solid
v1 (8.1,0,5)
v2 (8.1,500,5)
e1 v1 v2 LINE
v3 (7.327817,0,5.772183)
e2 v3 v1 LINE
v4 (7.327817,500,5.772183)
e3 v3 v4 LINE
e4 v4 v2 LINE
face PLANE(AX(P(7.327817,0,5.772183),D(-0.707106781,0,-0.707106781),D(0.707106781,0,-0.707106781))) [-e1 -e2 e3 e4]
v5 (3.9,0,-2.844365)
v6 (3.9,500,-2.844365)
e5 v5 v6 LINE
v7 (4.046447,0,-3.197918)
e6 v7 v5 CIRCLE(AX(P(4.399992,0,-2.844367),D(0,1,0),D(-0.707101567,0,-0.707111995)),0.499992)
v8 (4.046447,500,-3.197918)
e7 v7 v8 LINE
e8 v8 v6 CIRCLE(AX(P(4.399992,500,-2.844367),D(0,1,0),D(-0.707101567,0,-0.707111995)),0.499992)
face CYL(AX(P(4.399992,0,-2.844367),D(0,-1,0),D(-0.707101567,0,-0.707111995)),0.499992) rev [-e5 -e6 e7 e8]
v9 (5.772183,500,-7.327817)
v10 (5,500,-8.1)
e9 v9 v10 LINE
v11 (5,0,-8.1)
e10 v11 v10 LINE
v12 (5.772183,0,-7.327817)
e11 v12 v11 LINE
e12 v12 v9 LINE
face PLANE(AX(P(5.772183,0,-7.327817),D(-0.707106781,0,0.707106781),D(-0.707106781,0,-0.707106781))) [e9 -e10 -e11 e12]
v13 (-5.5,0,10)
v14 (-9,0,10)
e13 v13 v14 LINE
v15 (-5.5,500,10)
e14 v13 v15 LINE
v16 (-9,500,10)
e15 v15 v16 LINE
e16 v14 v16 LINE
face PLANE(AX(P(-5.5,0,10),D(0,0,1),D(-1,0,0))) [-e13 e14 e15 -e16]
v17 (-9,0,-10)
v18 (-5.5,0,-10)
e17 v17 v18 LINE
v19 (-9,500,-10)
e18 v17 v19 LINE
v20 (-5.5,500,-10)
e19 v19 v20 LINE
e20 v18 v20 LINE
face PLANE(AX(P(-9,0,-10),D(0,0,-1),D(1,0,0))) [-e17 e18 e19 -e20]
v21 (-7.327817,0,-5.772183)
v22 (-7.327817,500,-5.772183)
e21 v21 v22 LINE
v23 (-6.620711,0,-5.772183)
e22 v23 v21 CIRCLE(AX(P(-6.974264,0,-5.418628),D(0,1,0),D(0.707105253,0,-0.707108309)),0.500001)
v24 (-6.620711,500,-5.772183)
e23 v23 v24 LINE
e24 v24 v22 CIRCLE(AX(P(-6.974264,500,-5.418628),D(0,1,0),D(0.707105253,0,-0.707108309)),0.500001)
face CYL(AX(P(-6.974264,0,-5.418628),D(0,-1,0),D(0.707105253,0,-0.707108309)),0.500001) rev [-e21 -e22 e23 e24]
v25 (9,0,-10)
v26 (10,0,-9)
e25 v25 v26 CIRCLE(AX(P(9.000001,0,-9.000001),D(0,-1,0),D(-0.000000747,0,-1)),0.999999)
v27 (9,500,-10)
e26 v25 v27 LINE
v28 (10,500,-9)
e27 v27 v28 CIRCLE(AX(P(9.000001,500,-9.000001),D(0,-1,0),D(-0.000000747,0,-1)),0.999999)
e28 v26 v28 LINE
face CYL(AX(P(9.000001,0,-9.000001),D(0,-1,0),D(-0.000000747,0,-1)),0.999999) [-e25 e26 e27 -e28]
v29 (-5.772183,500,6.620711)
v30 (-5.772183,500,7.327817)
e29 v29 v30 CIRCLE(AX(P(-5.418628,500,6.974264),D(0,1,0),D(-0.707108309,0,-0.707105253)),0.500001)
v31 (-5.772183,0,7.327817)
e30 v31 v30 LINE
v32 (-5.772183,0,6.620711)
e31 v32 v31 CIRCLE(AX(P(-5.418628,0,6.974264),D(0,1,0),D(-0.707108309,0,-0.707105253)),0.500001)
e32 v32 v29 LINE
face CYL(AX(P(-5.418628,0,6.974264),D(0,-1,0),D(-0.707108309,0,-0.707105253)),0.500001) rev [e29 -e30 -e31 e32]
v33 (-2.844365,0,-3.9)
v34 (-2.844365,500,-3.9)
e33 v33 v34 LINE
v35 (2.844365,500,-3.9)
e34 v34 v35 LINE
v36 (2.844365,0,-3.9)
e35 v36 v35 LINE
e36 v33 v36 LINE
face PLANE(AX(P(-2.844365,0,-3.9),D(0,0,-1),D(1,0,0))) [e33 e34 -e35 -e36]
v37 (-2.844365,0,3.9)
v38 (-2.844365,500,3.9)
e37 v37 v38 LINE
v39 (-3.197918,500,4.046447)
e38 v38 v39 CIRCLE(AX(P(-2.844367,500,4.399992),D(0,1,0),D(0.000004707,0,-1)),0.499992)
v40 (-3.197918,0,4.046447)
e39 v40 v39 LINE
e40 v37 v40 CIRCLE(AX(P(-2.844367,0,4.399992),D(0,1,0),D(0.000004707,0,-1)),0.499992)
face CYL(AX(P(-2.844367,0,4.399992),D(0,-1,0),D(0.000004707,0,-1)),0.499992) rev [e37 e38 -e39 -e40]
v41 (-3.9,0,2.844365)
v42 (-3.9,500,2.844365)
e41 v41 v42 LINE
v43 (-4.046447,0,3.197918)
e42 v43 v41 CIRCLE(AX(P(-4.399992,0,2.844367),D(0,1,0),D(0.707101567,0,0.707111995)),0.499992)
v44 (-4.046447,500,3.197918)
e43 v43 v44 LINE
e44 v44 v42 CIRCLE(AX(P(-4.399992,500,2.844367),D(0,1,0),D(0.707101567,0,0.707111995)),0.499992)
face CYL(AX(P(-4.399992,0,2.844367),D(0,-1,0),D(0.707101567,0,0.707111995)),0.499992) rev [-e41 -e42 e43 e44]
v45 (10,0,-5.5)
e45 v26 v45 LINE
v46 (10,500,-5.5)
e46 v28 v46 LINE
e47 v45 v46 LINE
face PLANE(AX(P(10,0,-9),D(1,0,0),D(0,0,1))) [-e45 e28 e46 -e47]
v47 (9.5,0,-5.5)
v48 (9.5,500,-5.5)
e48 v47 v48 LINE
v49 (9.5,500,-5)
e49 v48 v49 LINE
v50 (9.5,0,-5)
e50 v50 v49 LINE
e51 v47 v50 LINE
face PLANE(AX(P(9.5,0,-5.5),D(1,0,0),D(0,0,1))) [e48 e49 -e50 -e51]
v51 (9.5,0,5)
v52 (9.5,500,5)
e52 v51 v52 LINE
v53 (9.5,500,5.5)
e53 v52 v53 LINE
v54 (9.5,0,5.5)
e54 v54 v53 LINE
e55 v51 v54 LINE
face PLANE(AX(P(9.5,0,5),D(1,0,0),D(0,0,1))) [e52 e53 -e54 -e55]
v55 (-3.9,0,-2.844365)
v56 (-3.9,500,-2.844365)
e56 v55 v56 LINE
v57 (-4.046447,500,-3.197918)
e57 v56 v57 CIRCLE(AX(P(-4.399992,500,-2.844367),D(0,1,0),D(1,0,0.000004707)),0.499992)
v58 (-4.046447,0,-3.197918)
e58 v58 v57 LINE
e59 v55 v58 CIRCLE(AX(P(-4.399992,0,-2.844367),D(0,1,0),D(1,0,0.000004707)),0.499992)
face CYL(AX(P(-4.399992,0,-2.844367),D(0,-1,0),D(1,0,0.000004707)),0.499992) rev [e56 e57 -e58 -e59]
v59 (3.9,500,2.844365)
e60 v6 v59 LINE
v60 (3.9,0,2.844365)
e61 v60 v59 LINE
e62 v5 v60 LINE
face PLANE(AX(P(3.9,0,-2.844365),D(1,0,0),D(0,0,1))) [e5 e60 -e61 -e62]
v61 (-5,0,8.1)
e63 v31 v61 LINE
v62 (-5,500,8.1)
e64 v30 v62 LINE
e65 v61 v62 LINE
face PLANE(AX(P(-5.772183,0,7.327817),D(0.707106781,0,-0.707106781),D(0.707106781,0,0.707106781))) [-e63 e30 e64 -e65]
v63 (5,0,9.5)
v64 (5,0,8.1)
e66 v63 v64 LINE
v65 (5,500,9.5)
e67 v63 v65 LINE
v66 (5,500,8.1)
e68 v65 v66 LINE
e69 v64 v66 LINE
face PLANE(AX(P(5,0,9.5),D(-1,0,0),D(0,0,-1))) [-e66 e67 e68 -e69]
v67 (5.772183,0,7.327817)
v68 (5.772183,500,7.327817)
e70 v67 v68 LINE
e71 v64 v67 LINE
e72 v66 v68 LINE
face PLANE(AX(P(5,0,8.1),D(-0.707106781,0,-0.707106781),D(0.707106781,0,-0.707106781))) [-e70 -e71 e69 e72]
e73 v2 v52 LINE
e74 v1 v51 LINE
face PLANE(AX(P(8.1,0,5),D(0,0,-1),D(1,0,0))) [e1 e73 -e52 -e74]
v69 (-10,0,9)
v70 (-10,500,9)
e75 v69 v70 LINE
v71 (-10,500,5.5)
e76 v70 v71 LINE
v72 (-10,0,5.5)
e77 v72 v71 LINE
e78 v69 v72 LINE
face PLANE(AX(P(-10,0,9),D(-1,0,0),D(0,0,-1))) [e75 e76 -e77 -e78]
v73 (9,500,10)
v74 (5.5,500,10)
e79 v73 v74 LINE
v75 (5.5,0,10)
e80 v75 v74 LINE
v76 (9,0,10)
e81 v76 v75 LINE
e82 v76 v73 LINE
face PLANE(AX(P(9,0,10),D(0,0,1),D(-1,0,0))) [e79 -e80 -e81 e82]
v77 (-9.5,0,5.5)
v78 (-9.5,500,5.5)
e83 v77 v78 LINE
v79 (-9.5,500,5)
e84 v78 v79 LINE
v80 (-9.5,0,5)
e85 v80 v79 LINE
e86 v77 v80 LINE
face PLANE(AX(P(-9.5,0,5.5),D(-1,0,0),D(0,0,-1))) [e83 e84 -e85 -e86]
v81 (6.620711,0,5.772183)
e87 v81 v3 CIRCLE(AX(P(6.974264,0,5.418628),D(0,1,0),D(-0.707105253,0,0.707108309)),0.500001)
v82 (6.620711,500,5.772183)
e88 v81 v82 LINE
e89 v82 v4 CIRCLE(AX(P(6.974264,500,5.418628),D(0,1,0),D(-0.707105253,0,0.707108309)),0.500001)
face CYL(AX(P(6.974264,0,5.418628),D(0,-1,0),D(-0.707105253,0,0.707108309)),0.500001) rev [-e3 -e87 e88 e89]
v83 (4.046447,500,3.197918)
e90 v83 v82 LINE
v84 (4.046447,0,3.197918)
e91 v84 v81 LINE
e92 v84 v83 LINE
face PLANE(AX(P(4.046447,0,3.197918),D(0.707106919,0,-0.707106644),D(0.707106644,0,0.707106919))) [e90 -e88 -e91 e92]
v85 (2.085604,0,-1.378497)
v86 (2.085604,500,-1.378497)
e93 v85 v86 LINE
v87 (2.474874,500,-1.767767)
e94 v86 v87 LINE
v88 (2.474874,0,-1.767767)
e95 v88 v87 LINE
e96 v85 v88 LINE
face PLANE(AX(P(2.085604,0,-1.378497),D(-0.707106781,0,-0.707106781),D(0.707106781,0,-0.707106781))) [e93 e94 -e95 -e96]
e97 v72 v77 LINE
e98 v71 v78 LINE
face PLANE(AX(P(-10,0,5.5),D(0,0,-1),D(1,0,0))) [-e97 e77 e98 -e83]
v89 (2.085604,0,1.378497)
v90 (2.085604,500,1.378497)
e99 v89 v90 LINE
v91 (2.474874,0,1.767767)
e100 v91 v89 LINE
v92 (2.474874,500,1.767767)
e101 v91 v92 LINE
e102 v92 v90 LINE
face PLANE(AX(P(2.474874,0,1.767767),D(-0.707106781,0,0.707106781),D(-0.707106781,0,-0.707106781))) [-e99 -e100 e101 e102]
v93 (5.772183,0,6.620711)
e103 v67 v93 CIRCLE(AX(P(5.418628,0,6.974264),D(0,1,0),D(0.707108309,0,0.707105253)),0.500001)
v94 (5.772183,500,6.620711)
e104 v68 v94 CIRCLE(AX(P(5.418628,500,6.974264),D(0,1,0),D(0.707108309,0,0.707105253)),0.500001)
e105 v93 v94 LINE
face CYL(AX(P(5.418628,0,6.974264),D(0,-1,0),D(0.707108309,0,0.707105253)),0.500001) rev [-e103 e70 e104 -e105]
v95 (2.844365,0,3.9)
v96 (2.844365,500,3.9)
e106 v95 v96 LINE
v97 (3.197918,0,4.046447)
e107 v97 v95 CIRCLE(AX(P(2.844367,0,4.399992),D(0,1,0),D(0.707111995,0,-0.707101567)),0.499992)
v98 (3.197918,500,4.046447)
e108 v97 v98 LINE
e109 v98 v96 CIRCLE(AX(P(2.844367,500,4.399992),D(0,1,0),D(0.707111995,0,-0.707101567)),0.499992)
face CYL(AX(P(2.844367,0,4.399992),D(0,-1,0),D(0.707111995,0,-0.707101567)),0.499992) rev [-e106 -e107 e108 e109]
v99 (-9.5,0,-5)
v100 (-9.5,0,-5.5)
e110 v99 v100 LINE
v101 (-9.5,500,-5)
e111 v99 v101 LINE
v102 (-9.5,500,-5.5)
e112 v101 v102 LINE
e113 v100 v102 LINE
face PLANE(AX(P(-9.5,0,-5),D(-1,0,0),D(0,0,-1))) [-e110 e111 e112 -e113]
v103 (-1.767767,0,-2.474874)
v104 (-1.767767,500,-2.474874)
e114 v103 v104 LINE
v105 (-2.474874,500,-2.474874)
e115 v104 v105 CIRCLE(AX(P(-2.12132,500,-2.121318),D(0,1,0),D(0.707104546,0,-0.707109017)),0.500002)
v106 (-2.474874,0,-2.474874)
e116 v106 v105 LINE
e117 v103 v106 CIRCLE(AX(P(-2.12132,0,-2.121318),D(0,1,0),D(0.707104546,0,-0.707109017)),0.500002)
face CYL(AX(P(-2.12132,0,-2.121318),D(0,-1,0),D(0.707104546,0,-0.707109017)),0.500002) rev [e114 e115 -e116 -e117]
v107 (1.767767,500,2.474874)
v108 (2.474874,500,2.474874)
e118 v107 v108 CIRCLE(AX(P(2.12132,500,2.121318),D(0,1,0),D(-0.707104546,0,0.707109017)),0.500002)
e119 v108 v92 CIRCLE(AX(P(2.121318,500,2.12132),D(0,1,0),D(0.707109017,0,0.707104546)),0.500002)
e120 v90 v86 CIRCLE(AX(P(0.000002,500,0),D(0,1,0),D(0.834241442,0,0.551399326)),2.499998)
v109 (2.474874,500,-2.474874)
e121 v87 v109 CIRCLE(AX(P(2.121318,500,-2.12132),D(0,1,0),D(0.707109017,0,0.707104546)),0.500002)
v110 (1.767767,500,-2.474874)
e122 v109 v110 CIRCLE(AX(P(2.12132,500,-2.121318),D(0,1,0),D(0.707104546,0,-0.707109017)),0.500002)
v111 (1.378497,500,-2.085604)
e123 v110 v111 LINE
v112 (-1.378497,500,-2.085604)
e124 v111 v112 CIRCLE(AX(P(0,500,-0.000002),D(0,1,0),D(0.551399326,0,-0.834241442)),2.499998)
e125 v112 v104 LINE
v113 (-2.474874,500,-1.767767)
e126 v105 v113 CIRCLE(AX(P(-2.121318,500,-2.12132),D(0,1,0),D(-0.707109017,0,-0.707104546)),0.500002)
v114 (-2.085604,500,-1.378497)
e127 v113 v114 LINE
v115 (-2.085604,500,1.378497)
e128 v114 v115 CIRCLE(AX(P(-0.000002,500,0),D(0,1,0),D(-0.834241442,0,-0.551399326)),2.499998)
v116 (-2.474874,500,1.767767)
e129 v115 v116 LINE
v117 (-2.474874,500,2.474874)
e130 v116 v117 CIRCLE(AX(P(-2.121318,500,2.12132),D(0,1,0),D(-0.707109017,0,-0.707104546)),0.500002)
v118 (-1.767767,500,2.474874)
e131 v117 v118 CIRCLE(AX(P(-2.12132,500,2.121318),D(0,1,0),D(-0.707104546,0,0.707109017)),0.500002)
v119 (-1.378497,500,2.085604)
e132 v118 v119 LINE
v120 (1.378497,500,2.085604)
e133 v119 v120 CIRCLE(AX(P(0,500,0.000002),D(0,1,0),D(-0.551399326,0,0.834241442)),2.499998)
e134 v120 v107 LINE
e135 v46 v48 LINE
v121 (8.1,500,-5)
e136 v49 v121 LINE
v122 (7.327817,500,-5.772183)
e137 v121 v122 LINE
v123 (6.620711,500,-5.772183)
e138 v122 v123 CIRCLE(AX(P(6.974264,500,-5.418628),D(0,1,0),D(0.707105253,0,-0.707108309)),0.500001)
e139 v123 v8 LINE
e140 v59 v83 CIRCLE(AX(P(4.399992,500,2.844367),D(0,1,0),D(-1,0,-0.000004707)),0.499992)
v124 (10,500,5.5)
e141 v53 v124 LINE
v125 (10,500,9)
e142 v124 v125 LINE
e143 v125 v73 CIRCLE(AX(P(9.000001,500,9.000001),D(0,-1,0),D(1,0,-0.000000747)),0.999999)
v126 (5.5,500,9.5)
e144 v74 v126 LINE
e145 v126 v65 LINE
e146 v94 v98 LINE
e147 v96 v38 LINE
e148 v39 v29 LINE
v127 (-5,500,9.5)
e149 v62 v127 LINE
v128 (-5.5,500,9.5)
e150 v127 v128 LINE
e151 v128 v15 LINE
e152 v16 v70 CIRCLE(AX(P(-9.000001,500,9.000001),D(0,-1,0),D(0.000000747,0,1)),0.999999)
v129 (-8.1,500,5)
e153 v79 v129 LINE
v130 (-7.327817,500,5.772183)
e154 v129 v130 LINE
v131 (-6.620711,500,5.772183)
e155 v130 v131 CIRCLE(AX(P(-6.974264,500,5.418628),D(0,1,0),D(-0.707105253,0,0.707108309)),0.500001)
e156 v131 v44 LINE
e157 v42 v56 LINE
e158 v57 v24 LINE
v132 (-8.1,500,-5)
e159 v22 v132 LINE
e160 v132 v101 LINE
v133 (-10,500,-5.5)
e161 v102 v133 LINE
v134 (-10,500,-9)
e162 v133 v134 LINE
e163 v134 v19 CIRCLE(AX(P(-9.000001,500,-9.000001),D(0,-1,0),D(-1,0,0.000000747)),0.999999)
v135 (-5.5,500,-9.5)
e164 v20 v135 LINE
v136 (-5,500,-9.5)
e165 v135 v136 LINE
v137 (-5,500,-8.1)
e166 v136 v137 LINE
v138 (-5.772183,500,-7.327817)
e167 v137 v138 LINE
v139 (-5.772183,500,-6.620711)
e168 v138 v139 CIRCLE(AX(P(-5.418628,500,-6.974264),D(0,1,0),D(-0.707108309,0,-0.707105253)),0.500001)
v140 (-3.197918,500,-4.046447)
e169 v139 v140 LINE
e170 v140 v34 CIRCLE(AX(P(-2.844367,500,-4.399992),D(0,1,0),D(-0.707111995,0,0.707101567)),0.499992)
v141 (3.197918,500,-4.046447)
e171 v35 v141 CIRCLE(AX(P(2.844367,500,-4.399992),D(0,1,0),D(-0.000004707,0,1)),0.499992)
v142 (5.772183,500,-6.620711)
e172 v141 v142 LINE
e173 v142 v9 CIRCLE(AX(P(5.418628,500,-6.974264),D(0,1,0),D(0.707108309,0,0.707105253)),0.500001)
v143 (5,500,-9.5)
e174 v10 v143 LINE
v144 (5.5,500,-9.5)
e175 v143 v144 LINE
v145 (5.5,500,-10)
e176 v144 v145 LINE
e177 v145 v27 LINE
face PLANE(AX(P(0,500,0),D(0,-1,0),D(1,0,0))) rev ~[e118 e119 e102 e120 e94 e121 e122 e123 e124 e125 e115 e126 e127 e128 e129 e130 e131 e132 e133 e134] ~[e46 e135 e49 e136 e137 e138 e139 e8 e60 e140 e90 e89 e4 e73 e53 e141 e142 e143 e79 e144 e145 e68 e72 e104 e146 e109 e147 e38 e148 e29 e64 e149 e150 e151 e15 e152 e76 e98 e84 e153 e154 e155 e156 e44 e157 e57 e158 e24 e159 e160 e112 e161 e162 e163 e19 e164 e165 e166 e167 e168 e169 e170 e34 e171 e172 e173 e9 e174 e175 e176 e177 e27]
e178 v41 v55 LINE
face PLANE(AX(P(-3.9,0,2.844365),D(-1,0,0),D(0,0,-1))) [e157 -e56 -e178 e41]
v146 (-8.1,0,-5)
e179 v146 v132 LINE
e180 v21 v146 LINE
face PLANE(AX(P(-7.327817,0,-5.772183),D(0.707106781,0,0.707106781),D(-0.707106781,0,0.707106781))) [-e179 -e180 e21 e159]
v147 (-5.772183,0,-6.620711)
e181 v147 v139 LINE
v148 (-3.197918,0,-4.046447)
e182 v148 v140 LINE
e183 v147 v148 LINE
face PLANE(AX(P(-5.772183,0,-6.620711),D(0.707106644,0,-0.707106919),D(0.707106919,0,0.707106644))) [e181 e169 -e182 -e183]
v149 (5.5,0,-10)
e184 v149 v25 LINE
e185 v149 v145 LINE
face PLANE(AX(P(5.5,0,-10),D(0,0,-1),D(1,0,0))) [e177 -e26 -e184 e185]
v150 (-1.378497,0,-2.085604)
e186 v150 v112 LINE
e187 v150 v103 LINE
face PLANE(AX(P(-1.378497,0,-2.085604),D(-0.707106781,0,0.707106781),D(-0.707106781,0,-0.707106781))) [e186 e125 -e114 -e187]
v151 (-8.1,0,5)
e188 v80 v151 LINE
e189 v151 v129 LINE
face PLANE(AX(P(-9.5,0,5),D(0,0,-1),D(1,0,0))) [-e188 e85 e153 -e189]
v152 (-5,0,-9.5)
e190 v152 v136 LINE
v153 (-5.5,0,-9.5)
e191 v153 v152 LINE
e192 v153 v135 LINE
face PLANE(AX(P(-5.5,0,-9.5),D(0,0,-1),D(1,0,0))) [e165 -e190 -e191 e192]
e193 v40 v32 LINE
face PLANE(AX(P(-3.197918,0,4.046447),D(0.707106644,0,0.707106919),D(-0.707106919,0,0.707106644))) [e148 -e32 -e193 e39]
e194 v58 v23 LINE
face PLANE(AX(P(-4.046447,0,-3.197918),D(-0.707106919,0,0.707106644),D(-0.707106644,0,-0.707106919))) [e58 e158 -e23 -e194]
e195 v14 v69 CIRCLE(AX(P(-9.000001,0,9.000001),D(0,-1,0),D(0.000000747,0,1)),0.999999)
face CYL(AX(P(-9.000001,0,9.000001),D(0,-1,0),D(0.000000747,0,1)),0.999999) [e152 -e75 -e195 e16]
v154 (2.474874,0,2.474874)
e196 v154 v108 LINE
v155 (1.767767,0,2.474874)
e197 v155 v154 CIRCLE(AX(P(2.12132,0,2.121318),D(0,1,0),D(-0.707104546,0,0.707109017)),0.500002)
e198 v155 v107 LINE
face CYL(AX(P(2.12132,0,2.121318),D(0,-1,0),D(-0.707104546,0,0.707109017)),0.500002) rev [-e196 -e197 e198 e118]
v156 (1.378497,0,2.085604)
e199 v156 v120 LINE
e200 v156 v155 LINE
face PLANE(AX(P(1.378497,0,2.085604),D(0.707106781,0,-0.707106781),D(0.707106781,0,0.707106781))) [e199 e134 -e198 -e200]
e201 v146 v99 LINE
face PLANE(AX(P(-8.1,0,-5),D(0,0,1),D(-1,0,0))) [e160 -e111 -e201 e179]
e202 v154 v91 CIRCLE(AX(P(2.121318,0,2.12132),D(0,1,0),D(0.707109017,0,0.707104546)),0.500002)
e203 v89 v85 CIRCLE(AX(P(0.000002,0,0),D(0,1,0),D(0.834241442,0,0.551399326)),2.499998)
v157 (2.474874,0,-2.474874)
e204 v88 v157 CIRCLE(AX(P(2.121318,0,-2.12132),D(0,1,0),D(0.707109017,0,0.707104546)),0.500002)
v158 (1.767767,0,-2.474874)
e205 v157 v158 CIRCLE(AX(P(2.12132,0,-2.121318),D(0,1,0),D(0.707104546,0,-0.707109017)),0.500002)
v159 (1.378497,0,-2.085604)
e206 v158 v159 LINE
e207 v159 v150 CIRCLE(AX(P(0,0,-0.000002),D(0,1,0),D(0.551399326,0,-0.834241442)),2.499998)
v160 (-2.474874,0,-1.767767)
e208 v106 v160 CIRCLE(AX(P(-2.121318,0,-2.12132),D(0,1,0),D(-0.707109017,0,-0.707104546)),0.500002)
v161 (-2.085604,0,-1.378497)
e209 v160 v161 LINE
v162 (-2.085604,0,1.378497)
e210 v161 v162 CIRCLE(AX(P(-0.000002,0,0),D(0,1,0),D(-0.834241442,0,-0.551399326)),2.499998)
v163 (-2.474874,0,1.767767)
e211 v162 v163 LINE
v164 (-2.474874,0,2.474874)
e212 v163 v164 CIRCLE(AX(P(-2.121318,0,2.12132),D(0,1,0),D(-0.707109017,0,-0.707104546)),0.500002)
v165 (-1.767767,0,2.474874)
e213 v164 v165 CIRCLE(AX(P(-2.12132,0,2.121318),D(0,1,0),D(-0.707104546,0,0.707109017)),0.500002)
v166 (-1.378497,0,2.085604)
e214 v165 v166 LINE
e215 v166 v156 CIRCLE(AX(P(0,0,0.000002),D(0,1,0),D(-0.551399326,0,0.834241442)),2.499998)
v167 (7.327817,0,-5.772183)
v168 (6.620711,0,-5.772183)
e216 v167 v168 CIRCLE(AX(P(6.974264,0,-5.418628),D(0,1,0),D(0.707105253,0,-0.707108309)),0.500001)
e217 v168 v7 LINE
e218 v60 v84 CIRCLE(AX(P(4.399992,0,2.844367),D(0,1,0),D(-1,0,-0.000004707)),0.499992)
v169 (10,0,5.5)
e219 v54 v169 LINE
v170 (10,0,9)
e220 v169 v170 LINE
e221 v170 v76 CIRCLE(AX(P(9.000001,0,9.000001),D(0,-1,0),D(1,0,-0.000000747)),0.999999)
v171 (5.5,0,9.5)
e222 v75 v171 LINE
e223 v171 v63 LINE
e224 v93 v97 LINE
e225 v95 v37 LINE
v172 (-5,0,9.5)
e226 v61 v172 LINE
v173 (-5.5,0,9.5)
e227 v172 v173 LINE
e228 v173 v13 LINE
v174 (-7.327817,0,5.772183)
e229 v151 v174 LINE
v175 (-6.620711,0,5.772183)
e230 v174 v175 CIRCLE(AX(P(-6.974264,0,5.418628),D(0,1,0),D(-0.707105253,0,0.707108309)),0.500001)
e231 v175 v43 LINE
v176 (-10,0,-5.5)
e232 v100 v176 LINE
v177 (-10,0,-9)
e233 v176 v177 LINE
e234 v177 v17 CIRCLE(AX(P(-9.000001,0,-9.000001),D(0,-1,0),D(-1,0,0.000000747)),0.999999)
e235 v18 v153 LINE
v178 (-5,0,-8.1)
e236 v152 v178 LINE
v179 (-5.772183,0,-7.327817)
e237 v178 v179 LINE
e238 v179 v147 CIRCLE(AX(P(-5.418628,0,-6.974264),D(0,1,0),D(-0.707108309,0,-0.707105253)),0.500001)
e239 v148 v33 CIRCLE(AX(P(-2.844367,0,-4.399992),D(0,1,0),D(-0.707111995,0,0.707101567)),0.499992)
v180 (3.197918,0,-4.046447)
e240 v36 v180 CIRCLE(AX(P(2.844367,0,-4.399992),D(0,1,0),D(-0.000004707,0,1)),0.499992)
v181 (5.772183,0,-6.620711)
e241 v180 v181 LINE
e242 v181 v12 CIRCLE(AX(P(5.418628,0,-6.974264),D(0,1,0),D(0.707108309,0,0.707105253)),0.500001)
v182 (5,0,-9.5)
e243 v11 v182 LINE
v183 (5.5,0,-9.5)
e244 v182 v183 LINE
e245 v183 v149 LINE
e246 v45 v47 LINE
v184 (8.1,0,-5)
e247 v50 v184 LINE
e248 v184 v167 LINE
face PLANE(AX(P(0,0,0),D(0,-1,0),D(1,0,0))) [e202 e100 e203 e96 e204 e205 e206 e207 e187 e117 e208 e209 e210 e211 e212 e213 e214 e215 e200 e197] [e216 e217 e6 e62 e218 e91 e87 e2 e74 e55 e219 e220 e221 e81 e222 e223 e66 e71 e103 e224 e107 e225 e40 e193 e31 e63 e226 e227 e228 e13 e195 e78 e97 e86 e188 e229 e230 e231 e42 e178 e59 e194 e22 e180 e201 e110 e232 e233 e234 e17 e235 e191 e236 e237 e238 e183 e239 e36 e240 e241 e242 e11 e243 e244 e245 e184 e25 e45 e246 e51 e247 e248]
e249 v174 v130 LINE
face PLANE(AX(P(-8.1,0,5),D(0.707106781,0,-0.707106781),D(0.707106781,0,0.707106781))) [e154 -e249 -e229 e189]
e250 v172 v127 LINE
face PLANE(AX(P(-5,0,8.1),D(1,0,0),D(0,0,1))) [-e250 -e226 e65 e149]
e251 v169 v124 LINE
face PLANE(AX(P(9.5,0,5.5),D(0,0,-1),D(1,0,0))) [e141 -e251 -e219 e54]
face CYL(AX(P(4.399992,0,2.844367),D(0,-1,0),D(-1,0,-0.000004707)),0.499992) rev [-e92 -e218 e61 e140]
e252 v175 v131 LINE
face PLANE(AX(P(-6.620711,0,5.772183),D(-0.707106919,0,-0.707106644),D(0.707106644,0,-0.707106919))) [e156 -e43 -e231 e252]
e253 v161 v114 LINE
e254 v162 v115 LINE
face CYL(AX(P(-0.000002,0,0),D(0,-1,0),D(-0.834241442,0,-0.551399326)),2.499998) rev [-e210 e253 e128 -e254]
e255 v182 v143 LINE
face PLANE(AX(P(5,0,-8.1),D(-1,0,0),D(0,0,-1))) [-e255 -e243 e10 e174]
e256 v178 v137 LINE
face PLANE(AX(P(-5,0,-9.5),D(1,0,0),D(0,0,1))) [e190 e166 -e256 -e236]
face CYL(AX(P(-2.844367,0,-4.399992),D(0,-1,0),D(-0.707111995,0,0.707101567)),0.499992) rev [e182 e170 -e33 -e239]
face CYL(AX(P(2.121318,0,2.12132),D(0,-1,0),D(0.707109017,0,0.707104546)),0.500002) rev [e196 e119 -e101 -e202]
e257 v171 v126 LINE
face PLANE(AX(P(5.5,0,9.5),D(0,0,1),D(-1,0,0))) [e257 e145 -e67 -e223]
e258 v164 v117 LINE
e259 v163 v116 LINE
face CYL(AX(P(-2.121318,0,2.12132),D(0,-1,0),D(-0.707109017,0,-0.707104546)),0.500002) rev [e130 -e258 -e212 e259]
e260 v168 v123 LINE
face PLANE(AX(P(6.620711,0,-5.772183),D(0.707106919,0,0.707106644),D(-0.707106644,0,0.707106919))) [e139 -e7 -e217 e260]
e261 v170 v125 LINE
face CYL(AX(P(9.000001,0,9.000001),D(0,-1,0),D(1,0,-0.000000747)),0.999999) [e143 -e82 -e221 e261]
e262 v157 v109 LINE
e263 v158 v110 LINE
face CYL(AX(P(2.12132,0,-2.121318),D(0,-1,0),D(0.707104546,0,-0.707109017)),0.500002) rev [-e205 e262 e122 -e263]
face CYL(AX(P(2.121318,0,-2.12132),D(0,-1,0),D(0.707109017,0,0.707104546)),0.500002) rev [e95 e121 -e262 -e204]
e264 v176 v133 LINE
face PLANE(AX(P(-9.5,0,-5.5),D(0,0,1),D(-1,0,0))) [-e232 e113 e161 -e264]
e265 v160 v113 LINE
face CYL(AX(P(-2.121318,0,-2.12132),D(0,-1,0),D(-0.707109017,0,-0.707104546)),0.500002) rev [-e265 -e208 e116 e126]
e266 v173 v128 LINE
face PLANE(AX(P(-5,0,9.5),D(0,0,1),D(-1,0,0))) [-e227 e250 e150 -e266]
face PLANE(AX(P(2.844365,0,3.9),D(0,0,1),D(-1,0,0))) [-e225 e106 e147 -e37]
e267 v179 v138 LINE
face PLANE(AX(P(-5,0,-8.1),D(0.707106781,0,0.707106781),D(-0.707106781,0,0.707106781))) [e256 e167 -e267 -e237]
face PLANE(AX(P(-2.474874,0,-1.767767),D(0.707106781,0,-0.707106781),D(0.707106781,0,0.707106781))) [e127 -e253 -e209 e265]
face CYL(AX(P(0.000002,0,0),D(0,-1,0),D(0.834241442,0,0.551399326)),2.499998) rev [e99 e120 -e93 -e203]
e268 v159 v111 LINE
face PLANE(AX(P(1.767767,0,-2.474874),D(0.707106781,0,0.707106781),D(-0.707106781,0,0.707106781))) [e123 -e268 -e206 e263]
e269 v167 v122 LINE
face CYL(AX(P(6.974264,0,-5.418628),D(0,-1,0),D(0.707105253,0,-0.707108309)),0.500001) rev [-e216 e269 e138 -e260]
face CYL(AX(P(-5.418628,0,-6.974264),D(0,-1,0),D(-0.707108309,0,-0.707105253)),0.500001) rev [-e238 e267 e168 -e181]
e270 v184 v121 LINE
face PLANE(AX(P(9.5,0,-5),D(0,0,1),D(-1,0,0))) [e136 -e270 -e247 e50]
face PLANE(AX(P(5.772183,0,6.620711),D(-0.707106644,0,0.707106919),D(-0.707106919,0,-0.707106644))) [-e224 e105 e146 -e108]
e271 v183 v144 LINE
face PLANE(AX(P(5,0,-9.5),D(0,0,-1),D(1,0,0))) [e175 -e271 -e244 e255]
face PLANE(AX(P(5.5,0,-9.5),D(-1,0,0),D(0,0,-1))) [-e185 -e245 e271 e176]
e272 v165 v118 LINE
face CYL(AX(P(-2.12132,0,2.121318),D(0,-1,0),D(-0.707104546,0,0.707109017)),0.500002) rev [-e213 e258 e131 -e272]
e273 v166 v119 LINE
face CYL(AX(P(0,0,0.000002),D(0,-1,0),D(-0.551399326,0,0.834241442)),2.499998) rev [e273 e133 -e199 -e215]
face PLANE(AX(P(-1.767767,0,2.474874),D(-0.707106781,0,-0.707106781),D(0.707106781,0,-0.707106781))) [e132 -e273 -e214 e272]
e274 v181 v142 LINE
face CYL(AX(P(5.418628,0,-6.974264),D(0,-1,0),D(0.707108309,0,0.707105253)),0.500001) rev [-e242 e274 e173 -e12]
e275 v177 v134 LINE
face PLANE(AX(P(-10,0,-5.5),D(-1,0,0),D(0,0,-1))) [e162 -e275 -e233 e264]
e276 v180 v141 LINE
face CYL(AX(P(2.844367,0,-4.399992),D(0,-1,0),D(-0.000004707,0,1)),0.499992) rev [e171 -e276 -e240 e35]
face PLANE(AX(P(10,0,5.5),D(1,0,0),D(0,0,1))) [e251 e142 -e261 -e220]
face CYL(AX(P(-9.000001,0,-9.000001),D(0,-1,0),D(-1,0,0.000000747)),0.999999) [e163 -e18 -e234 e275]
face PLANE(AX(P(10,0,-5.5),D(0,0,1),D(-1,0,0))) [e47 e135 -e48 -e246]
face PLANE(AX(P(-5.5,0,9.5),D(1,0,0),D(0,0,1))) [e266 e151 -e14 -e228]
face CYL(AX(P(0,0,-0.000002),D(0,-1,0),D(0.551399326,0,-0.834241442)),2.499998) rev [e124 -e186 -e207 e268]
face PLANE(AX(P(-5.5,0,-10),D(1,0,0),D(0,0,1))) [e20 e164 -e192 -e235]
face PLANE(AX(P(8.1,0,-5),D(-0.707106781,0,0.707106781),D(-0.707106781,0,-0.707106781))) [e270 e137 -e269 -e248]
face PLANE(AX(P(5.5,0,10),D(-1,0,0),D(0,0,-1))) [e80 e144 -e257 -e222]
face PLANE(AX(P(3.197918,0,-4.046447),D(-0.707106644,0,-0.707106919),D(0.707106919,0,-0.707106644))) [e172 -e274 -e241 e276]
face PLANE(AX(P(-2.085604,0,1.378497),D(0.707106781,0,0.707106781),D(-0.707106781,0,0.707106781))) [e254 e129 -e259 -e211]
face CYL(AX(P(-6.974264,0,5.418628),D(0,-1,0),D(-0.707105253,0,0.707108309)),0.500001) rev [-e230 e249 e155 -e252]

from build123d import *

# Parameters (mm, degrees)
F1_DEPTH = 500


with BuildPart() as f1:
    # F0 (on Front) → F1 (new body)
    with BuildSketch(Plane.XZ):
        with BuildLine():
            Line((-10, 9), (-10, 5.5))
            Line((-10, 5.5), (-9.5, 5.5))
            Line((-9.5, 5.5), (-9.5, 5))
            Line((-9.5, 5), (-8.1, 5))
            Line((-8.1, 5), (-7.327817, 5.772183))
            ThreePointArc((-7.327817, 5.772183), (-6.974264, 5.918629), (-6.620711, 5.772183))
            Line((-6.620711, 5.772183), (-4.046447, 3.197918))
            ThreePointArc((-4.046447, 3.197918), (-3.93806, 3.035707), (-3.9, 2.844365))
            Line((-3.9, 2.844365), (-3.9, -2.844365))
            ThreePointArc((-3.9, -2.844365), (-3.93806, -3.035707), (-4.046447, -3.197918))
            Line((-4.046447, -3.197918), (-6.620711, -5.772183))
            ThreePointArc((-6.620711, -5.772183), (-6.974264, -5.918629), (-7.327817, -5.772183))
            Line((-7.327817, -5.772183), (-8.1, -5))
            Line((-8.1, -5), (-9.5, -5))
            Line((-9.5, -5), (-9.5, -5.5))
            Line((-9.5, -5.5), (-10, -5.5))
            Line((-10, -5.5), (-10, -9))
            ThreePointArc((-10, -9), (-9.707107, -9.707107), (-9, -10))
            Line((-9, -10), (-5.5, -10))
            Line((-5.5, -10), (-5.5, -9.5))
            Line((-5.5, -9.5), (-5, -9.5))
            Line((-5, -9.5), (-5, -8.1))
            Line((-5, -8.1), (-5.772183, -7.327817))
            ThreePointArc((-5.772183, -7.327817), (-5.918629, -6.974264), (-5.772183, -6.620711))
            Line((-5.772183, -6.620711), (-3.197918, -4.046447))
            ThreePointArc((-3.197918, -4.046447), (-3.035707, -3.93806), (-2.844365, -3.9))
            Line((-2.844365, -3.9), (2.844365, -3.9))
            ThreePointArc((2.844365, -3.9), (3.035707, -3.93806), (3.197918, -4.046447))
            Line((3.197918, -4.046447), (5.772183, -6.620711))
            ThreePointArc((5.772183, -6.620711), (5.918629, -6.974264), (5.772183, -7.327817))
            Line((5.772183, -7.327817), (5, -8.1))
            Line((5, -8.1), (5, -9.5))
            Line((5, -9.5), (5.5, -9.5))
            Line((5.5, -9.5), (5.5, -10))
            Line((5.5, -10), (9, -10))
            ThreePointArc((9, -10), (9.707107, -9.707107), (10, -9))
            Line((10, -9), (10, -5.5))
            Line((10, -5.5), (9.5, -5.5))
            Line((9.5, -5.5), (9.5, -5))
            Line((9.5, -5), (8.1, -5))
            Line((8.1, -5), (7.327817, -5.772183))
            ThreePointArc((7.327817, -5.772183), (6.974264, -5.918629), (6.620711, -5.772183))
            Line((6.620711, -5.772183), (4.046447, -3.197918))
            ThreePointArc((4.046447, -3.197918), (3.93806, -3.035707), (3.9, -2.844365))
            Line((3.9, -2.844365), (3.9, 2.844365))
            ThreePointArc((3.9, 2.844365), (3.93806, 3.035707), (4.046447, 3.197918))
            Line((4.046447, 3.197918), (6.620711, 5.772183))
            ThreePointArc((6.620711, 5.772183), (6.974264, 5.918629), (7.327817, 5.772183))
            Line((7.327817, 5.772183), (8.1, 5))
            Line((8.1, 5), (9.5, 5))
            Line((9.5, 5), (9.5, 5.5))
            Line((9.5, 5.5), (10, 5.5))
            Line((10, 5.5), (10, 9))
            ThreePointArc((10, 9), (9.707107, 9.707107), (9, 10))
            Line((9, 10), (5.5, 10))
            Line((5.5, 10), (5.5, 9.5))
            Line((5.5, 9.5), (5, 9.5))
            Line((5, 9.5), (5, 8.1))
            Line((5, 8.1), (5.772183, 7.327817))
            ThreePointArc((5.772183, 7.327817), (5.918629, 6.974264), (5.772183, 6.620711))
            Line((5.772183, 6.620711), (3.197918, 4.046447))
            ThreePointArc((3.197918, 4.046447), (3.035707, 3.93806), (2.844365, 3.9))
            Line((2.844365, 3.9), (-2.844365, 3.9))
            ThreePointArc((-2.844365, 3.9), (-3.035707, 3.93806), (-3.197918, 4.046447))
            Line((-3.197918, 4.046447), (-5.772183, 6.620711))
            ThreePointArc((-5.772183, 6.620711), (-5.918629, 6.974264), (-5.772183, 7.327817))
            Line((-5.772183, 7.327817), (-5, 8.1))
            Line((-5, 8.1), (-5, 9.5))
            Line((-5, 9.5), (-5.5, 9.5))
            Line((-5.5, 9.5), (-5.5, 10))
            Line((-5.5, 10), (-9, 10))
            ThreePointArc((-9, 10), (-9.707107, 9.707107), (-10, 9))
        make_face()
        with BuildLine():
            ThreePointArc((-2.085604, -1.378497), (-2.5, 0), (-2.085604, 1.378497))
            Line((-2.085604, 1.378497), (-2.474874, 1.767767))
            ThreePointArc((-2.474874, 1.767767), (-2.62132, 2.12132), (-2.474874, 2.474874))
            ThreePointArc((-2.474874, 2.474874), (-2.12132, 2.62132), (-1.767767, 2.474874))
            Line((-1.767767, 2.474874), (-1.378497, 2.085604))
            ThreePointArc((-1.378497, 2.085604), (0, 2.5), (1.378497, 2.085604))
            Line((1.378497, 2.085604), (1.767767, 2.474874))
            ThreePointArc((1.767767, 2.474874), (2.12132, 2.62132), (2.474874, 2.474874))
            ThreePointArc((2.474874, 2.474874), (2.62132, 2.12132), (2.474874, 1.767767))
            Line((2.474874, 1.767767), (2.085604, 1.378497))
            ThreePointArc((2.085604, 1.378497), (2.5, 0), (2.085604, -1.378497))
            Line((2.085604, -1.378497), (2.474874, -1.767767))
            ThreePointArc((2.474874, -1.767767), (2.62132, -2.12132), (2.474874, -2.474874))
            ThreePointArc((2.474874, -2.474874), (2.12132, -2.62132), (1.767767, -2.474874))
            Line((1.767767, -2.474874), (1.378497, -2.085604))
            ThreePointArc((1.378497, -2.085604), (0, -2.5), (-1.378497, -2.085604))
            Line((-1.378497, -2.085604), (-1.767767, -2.474874))
            ThreePointArc((-1.767767, -2.474874), (-2.12132, -2.62132), (-2.474874, -2.474874))
            ThreePointArc((-2.474874, -2.474874), (-2.62132, -2.12132), (-2.474874, -1.767767))
            Line((-2.474874, -1.767767), (-2.085604, -1.378497))
        make_face(mode=Mode.SUBTRACT)
    extrude(amount=-F1_DEPTH)


solid = f1.part
